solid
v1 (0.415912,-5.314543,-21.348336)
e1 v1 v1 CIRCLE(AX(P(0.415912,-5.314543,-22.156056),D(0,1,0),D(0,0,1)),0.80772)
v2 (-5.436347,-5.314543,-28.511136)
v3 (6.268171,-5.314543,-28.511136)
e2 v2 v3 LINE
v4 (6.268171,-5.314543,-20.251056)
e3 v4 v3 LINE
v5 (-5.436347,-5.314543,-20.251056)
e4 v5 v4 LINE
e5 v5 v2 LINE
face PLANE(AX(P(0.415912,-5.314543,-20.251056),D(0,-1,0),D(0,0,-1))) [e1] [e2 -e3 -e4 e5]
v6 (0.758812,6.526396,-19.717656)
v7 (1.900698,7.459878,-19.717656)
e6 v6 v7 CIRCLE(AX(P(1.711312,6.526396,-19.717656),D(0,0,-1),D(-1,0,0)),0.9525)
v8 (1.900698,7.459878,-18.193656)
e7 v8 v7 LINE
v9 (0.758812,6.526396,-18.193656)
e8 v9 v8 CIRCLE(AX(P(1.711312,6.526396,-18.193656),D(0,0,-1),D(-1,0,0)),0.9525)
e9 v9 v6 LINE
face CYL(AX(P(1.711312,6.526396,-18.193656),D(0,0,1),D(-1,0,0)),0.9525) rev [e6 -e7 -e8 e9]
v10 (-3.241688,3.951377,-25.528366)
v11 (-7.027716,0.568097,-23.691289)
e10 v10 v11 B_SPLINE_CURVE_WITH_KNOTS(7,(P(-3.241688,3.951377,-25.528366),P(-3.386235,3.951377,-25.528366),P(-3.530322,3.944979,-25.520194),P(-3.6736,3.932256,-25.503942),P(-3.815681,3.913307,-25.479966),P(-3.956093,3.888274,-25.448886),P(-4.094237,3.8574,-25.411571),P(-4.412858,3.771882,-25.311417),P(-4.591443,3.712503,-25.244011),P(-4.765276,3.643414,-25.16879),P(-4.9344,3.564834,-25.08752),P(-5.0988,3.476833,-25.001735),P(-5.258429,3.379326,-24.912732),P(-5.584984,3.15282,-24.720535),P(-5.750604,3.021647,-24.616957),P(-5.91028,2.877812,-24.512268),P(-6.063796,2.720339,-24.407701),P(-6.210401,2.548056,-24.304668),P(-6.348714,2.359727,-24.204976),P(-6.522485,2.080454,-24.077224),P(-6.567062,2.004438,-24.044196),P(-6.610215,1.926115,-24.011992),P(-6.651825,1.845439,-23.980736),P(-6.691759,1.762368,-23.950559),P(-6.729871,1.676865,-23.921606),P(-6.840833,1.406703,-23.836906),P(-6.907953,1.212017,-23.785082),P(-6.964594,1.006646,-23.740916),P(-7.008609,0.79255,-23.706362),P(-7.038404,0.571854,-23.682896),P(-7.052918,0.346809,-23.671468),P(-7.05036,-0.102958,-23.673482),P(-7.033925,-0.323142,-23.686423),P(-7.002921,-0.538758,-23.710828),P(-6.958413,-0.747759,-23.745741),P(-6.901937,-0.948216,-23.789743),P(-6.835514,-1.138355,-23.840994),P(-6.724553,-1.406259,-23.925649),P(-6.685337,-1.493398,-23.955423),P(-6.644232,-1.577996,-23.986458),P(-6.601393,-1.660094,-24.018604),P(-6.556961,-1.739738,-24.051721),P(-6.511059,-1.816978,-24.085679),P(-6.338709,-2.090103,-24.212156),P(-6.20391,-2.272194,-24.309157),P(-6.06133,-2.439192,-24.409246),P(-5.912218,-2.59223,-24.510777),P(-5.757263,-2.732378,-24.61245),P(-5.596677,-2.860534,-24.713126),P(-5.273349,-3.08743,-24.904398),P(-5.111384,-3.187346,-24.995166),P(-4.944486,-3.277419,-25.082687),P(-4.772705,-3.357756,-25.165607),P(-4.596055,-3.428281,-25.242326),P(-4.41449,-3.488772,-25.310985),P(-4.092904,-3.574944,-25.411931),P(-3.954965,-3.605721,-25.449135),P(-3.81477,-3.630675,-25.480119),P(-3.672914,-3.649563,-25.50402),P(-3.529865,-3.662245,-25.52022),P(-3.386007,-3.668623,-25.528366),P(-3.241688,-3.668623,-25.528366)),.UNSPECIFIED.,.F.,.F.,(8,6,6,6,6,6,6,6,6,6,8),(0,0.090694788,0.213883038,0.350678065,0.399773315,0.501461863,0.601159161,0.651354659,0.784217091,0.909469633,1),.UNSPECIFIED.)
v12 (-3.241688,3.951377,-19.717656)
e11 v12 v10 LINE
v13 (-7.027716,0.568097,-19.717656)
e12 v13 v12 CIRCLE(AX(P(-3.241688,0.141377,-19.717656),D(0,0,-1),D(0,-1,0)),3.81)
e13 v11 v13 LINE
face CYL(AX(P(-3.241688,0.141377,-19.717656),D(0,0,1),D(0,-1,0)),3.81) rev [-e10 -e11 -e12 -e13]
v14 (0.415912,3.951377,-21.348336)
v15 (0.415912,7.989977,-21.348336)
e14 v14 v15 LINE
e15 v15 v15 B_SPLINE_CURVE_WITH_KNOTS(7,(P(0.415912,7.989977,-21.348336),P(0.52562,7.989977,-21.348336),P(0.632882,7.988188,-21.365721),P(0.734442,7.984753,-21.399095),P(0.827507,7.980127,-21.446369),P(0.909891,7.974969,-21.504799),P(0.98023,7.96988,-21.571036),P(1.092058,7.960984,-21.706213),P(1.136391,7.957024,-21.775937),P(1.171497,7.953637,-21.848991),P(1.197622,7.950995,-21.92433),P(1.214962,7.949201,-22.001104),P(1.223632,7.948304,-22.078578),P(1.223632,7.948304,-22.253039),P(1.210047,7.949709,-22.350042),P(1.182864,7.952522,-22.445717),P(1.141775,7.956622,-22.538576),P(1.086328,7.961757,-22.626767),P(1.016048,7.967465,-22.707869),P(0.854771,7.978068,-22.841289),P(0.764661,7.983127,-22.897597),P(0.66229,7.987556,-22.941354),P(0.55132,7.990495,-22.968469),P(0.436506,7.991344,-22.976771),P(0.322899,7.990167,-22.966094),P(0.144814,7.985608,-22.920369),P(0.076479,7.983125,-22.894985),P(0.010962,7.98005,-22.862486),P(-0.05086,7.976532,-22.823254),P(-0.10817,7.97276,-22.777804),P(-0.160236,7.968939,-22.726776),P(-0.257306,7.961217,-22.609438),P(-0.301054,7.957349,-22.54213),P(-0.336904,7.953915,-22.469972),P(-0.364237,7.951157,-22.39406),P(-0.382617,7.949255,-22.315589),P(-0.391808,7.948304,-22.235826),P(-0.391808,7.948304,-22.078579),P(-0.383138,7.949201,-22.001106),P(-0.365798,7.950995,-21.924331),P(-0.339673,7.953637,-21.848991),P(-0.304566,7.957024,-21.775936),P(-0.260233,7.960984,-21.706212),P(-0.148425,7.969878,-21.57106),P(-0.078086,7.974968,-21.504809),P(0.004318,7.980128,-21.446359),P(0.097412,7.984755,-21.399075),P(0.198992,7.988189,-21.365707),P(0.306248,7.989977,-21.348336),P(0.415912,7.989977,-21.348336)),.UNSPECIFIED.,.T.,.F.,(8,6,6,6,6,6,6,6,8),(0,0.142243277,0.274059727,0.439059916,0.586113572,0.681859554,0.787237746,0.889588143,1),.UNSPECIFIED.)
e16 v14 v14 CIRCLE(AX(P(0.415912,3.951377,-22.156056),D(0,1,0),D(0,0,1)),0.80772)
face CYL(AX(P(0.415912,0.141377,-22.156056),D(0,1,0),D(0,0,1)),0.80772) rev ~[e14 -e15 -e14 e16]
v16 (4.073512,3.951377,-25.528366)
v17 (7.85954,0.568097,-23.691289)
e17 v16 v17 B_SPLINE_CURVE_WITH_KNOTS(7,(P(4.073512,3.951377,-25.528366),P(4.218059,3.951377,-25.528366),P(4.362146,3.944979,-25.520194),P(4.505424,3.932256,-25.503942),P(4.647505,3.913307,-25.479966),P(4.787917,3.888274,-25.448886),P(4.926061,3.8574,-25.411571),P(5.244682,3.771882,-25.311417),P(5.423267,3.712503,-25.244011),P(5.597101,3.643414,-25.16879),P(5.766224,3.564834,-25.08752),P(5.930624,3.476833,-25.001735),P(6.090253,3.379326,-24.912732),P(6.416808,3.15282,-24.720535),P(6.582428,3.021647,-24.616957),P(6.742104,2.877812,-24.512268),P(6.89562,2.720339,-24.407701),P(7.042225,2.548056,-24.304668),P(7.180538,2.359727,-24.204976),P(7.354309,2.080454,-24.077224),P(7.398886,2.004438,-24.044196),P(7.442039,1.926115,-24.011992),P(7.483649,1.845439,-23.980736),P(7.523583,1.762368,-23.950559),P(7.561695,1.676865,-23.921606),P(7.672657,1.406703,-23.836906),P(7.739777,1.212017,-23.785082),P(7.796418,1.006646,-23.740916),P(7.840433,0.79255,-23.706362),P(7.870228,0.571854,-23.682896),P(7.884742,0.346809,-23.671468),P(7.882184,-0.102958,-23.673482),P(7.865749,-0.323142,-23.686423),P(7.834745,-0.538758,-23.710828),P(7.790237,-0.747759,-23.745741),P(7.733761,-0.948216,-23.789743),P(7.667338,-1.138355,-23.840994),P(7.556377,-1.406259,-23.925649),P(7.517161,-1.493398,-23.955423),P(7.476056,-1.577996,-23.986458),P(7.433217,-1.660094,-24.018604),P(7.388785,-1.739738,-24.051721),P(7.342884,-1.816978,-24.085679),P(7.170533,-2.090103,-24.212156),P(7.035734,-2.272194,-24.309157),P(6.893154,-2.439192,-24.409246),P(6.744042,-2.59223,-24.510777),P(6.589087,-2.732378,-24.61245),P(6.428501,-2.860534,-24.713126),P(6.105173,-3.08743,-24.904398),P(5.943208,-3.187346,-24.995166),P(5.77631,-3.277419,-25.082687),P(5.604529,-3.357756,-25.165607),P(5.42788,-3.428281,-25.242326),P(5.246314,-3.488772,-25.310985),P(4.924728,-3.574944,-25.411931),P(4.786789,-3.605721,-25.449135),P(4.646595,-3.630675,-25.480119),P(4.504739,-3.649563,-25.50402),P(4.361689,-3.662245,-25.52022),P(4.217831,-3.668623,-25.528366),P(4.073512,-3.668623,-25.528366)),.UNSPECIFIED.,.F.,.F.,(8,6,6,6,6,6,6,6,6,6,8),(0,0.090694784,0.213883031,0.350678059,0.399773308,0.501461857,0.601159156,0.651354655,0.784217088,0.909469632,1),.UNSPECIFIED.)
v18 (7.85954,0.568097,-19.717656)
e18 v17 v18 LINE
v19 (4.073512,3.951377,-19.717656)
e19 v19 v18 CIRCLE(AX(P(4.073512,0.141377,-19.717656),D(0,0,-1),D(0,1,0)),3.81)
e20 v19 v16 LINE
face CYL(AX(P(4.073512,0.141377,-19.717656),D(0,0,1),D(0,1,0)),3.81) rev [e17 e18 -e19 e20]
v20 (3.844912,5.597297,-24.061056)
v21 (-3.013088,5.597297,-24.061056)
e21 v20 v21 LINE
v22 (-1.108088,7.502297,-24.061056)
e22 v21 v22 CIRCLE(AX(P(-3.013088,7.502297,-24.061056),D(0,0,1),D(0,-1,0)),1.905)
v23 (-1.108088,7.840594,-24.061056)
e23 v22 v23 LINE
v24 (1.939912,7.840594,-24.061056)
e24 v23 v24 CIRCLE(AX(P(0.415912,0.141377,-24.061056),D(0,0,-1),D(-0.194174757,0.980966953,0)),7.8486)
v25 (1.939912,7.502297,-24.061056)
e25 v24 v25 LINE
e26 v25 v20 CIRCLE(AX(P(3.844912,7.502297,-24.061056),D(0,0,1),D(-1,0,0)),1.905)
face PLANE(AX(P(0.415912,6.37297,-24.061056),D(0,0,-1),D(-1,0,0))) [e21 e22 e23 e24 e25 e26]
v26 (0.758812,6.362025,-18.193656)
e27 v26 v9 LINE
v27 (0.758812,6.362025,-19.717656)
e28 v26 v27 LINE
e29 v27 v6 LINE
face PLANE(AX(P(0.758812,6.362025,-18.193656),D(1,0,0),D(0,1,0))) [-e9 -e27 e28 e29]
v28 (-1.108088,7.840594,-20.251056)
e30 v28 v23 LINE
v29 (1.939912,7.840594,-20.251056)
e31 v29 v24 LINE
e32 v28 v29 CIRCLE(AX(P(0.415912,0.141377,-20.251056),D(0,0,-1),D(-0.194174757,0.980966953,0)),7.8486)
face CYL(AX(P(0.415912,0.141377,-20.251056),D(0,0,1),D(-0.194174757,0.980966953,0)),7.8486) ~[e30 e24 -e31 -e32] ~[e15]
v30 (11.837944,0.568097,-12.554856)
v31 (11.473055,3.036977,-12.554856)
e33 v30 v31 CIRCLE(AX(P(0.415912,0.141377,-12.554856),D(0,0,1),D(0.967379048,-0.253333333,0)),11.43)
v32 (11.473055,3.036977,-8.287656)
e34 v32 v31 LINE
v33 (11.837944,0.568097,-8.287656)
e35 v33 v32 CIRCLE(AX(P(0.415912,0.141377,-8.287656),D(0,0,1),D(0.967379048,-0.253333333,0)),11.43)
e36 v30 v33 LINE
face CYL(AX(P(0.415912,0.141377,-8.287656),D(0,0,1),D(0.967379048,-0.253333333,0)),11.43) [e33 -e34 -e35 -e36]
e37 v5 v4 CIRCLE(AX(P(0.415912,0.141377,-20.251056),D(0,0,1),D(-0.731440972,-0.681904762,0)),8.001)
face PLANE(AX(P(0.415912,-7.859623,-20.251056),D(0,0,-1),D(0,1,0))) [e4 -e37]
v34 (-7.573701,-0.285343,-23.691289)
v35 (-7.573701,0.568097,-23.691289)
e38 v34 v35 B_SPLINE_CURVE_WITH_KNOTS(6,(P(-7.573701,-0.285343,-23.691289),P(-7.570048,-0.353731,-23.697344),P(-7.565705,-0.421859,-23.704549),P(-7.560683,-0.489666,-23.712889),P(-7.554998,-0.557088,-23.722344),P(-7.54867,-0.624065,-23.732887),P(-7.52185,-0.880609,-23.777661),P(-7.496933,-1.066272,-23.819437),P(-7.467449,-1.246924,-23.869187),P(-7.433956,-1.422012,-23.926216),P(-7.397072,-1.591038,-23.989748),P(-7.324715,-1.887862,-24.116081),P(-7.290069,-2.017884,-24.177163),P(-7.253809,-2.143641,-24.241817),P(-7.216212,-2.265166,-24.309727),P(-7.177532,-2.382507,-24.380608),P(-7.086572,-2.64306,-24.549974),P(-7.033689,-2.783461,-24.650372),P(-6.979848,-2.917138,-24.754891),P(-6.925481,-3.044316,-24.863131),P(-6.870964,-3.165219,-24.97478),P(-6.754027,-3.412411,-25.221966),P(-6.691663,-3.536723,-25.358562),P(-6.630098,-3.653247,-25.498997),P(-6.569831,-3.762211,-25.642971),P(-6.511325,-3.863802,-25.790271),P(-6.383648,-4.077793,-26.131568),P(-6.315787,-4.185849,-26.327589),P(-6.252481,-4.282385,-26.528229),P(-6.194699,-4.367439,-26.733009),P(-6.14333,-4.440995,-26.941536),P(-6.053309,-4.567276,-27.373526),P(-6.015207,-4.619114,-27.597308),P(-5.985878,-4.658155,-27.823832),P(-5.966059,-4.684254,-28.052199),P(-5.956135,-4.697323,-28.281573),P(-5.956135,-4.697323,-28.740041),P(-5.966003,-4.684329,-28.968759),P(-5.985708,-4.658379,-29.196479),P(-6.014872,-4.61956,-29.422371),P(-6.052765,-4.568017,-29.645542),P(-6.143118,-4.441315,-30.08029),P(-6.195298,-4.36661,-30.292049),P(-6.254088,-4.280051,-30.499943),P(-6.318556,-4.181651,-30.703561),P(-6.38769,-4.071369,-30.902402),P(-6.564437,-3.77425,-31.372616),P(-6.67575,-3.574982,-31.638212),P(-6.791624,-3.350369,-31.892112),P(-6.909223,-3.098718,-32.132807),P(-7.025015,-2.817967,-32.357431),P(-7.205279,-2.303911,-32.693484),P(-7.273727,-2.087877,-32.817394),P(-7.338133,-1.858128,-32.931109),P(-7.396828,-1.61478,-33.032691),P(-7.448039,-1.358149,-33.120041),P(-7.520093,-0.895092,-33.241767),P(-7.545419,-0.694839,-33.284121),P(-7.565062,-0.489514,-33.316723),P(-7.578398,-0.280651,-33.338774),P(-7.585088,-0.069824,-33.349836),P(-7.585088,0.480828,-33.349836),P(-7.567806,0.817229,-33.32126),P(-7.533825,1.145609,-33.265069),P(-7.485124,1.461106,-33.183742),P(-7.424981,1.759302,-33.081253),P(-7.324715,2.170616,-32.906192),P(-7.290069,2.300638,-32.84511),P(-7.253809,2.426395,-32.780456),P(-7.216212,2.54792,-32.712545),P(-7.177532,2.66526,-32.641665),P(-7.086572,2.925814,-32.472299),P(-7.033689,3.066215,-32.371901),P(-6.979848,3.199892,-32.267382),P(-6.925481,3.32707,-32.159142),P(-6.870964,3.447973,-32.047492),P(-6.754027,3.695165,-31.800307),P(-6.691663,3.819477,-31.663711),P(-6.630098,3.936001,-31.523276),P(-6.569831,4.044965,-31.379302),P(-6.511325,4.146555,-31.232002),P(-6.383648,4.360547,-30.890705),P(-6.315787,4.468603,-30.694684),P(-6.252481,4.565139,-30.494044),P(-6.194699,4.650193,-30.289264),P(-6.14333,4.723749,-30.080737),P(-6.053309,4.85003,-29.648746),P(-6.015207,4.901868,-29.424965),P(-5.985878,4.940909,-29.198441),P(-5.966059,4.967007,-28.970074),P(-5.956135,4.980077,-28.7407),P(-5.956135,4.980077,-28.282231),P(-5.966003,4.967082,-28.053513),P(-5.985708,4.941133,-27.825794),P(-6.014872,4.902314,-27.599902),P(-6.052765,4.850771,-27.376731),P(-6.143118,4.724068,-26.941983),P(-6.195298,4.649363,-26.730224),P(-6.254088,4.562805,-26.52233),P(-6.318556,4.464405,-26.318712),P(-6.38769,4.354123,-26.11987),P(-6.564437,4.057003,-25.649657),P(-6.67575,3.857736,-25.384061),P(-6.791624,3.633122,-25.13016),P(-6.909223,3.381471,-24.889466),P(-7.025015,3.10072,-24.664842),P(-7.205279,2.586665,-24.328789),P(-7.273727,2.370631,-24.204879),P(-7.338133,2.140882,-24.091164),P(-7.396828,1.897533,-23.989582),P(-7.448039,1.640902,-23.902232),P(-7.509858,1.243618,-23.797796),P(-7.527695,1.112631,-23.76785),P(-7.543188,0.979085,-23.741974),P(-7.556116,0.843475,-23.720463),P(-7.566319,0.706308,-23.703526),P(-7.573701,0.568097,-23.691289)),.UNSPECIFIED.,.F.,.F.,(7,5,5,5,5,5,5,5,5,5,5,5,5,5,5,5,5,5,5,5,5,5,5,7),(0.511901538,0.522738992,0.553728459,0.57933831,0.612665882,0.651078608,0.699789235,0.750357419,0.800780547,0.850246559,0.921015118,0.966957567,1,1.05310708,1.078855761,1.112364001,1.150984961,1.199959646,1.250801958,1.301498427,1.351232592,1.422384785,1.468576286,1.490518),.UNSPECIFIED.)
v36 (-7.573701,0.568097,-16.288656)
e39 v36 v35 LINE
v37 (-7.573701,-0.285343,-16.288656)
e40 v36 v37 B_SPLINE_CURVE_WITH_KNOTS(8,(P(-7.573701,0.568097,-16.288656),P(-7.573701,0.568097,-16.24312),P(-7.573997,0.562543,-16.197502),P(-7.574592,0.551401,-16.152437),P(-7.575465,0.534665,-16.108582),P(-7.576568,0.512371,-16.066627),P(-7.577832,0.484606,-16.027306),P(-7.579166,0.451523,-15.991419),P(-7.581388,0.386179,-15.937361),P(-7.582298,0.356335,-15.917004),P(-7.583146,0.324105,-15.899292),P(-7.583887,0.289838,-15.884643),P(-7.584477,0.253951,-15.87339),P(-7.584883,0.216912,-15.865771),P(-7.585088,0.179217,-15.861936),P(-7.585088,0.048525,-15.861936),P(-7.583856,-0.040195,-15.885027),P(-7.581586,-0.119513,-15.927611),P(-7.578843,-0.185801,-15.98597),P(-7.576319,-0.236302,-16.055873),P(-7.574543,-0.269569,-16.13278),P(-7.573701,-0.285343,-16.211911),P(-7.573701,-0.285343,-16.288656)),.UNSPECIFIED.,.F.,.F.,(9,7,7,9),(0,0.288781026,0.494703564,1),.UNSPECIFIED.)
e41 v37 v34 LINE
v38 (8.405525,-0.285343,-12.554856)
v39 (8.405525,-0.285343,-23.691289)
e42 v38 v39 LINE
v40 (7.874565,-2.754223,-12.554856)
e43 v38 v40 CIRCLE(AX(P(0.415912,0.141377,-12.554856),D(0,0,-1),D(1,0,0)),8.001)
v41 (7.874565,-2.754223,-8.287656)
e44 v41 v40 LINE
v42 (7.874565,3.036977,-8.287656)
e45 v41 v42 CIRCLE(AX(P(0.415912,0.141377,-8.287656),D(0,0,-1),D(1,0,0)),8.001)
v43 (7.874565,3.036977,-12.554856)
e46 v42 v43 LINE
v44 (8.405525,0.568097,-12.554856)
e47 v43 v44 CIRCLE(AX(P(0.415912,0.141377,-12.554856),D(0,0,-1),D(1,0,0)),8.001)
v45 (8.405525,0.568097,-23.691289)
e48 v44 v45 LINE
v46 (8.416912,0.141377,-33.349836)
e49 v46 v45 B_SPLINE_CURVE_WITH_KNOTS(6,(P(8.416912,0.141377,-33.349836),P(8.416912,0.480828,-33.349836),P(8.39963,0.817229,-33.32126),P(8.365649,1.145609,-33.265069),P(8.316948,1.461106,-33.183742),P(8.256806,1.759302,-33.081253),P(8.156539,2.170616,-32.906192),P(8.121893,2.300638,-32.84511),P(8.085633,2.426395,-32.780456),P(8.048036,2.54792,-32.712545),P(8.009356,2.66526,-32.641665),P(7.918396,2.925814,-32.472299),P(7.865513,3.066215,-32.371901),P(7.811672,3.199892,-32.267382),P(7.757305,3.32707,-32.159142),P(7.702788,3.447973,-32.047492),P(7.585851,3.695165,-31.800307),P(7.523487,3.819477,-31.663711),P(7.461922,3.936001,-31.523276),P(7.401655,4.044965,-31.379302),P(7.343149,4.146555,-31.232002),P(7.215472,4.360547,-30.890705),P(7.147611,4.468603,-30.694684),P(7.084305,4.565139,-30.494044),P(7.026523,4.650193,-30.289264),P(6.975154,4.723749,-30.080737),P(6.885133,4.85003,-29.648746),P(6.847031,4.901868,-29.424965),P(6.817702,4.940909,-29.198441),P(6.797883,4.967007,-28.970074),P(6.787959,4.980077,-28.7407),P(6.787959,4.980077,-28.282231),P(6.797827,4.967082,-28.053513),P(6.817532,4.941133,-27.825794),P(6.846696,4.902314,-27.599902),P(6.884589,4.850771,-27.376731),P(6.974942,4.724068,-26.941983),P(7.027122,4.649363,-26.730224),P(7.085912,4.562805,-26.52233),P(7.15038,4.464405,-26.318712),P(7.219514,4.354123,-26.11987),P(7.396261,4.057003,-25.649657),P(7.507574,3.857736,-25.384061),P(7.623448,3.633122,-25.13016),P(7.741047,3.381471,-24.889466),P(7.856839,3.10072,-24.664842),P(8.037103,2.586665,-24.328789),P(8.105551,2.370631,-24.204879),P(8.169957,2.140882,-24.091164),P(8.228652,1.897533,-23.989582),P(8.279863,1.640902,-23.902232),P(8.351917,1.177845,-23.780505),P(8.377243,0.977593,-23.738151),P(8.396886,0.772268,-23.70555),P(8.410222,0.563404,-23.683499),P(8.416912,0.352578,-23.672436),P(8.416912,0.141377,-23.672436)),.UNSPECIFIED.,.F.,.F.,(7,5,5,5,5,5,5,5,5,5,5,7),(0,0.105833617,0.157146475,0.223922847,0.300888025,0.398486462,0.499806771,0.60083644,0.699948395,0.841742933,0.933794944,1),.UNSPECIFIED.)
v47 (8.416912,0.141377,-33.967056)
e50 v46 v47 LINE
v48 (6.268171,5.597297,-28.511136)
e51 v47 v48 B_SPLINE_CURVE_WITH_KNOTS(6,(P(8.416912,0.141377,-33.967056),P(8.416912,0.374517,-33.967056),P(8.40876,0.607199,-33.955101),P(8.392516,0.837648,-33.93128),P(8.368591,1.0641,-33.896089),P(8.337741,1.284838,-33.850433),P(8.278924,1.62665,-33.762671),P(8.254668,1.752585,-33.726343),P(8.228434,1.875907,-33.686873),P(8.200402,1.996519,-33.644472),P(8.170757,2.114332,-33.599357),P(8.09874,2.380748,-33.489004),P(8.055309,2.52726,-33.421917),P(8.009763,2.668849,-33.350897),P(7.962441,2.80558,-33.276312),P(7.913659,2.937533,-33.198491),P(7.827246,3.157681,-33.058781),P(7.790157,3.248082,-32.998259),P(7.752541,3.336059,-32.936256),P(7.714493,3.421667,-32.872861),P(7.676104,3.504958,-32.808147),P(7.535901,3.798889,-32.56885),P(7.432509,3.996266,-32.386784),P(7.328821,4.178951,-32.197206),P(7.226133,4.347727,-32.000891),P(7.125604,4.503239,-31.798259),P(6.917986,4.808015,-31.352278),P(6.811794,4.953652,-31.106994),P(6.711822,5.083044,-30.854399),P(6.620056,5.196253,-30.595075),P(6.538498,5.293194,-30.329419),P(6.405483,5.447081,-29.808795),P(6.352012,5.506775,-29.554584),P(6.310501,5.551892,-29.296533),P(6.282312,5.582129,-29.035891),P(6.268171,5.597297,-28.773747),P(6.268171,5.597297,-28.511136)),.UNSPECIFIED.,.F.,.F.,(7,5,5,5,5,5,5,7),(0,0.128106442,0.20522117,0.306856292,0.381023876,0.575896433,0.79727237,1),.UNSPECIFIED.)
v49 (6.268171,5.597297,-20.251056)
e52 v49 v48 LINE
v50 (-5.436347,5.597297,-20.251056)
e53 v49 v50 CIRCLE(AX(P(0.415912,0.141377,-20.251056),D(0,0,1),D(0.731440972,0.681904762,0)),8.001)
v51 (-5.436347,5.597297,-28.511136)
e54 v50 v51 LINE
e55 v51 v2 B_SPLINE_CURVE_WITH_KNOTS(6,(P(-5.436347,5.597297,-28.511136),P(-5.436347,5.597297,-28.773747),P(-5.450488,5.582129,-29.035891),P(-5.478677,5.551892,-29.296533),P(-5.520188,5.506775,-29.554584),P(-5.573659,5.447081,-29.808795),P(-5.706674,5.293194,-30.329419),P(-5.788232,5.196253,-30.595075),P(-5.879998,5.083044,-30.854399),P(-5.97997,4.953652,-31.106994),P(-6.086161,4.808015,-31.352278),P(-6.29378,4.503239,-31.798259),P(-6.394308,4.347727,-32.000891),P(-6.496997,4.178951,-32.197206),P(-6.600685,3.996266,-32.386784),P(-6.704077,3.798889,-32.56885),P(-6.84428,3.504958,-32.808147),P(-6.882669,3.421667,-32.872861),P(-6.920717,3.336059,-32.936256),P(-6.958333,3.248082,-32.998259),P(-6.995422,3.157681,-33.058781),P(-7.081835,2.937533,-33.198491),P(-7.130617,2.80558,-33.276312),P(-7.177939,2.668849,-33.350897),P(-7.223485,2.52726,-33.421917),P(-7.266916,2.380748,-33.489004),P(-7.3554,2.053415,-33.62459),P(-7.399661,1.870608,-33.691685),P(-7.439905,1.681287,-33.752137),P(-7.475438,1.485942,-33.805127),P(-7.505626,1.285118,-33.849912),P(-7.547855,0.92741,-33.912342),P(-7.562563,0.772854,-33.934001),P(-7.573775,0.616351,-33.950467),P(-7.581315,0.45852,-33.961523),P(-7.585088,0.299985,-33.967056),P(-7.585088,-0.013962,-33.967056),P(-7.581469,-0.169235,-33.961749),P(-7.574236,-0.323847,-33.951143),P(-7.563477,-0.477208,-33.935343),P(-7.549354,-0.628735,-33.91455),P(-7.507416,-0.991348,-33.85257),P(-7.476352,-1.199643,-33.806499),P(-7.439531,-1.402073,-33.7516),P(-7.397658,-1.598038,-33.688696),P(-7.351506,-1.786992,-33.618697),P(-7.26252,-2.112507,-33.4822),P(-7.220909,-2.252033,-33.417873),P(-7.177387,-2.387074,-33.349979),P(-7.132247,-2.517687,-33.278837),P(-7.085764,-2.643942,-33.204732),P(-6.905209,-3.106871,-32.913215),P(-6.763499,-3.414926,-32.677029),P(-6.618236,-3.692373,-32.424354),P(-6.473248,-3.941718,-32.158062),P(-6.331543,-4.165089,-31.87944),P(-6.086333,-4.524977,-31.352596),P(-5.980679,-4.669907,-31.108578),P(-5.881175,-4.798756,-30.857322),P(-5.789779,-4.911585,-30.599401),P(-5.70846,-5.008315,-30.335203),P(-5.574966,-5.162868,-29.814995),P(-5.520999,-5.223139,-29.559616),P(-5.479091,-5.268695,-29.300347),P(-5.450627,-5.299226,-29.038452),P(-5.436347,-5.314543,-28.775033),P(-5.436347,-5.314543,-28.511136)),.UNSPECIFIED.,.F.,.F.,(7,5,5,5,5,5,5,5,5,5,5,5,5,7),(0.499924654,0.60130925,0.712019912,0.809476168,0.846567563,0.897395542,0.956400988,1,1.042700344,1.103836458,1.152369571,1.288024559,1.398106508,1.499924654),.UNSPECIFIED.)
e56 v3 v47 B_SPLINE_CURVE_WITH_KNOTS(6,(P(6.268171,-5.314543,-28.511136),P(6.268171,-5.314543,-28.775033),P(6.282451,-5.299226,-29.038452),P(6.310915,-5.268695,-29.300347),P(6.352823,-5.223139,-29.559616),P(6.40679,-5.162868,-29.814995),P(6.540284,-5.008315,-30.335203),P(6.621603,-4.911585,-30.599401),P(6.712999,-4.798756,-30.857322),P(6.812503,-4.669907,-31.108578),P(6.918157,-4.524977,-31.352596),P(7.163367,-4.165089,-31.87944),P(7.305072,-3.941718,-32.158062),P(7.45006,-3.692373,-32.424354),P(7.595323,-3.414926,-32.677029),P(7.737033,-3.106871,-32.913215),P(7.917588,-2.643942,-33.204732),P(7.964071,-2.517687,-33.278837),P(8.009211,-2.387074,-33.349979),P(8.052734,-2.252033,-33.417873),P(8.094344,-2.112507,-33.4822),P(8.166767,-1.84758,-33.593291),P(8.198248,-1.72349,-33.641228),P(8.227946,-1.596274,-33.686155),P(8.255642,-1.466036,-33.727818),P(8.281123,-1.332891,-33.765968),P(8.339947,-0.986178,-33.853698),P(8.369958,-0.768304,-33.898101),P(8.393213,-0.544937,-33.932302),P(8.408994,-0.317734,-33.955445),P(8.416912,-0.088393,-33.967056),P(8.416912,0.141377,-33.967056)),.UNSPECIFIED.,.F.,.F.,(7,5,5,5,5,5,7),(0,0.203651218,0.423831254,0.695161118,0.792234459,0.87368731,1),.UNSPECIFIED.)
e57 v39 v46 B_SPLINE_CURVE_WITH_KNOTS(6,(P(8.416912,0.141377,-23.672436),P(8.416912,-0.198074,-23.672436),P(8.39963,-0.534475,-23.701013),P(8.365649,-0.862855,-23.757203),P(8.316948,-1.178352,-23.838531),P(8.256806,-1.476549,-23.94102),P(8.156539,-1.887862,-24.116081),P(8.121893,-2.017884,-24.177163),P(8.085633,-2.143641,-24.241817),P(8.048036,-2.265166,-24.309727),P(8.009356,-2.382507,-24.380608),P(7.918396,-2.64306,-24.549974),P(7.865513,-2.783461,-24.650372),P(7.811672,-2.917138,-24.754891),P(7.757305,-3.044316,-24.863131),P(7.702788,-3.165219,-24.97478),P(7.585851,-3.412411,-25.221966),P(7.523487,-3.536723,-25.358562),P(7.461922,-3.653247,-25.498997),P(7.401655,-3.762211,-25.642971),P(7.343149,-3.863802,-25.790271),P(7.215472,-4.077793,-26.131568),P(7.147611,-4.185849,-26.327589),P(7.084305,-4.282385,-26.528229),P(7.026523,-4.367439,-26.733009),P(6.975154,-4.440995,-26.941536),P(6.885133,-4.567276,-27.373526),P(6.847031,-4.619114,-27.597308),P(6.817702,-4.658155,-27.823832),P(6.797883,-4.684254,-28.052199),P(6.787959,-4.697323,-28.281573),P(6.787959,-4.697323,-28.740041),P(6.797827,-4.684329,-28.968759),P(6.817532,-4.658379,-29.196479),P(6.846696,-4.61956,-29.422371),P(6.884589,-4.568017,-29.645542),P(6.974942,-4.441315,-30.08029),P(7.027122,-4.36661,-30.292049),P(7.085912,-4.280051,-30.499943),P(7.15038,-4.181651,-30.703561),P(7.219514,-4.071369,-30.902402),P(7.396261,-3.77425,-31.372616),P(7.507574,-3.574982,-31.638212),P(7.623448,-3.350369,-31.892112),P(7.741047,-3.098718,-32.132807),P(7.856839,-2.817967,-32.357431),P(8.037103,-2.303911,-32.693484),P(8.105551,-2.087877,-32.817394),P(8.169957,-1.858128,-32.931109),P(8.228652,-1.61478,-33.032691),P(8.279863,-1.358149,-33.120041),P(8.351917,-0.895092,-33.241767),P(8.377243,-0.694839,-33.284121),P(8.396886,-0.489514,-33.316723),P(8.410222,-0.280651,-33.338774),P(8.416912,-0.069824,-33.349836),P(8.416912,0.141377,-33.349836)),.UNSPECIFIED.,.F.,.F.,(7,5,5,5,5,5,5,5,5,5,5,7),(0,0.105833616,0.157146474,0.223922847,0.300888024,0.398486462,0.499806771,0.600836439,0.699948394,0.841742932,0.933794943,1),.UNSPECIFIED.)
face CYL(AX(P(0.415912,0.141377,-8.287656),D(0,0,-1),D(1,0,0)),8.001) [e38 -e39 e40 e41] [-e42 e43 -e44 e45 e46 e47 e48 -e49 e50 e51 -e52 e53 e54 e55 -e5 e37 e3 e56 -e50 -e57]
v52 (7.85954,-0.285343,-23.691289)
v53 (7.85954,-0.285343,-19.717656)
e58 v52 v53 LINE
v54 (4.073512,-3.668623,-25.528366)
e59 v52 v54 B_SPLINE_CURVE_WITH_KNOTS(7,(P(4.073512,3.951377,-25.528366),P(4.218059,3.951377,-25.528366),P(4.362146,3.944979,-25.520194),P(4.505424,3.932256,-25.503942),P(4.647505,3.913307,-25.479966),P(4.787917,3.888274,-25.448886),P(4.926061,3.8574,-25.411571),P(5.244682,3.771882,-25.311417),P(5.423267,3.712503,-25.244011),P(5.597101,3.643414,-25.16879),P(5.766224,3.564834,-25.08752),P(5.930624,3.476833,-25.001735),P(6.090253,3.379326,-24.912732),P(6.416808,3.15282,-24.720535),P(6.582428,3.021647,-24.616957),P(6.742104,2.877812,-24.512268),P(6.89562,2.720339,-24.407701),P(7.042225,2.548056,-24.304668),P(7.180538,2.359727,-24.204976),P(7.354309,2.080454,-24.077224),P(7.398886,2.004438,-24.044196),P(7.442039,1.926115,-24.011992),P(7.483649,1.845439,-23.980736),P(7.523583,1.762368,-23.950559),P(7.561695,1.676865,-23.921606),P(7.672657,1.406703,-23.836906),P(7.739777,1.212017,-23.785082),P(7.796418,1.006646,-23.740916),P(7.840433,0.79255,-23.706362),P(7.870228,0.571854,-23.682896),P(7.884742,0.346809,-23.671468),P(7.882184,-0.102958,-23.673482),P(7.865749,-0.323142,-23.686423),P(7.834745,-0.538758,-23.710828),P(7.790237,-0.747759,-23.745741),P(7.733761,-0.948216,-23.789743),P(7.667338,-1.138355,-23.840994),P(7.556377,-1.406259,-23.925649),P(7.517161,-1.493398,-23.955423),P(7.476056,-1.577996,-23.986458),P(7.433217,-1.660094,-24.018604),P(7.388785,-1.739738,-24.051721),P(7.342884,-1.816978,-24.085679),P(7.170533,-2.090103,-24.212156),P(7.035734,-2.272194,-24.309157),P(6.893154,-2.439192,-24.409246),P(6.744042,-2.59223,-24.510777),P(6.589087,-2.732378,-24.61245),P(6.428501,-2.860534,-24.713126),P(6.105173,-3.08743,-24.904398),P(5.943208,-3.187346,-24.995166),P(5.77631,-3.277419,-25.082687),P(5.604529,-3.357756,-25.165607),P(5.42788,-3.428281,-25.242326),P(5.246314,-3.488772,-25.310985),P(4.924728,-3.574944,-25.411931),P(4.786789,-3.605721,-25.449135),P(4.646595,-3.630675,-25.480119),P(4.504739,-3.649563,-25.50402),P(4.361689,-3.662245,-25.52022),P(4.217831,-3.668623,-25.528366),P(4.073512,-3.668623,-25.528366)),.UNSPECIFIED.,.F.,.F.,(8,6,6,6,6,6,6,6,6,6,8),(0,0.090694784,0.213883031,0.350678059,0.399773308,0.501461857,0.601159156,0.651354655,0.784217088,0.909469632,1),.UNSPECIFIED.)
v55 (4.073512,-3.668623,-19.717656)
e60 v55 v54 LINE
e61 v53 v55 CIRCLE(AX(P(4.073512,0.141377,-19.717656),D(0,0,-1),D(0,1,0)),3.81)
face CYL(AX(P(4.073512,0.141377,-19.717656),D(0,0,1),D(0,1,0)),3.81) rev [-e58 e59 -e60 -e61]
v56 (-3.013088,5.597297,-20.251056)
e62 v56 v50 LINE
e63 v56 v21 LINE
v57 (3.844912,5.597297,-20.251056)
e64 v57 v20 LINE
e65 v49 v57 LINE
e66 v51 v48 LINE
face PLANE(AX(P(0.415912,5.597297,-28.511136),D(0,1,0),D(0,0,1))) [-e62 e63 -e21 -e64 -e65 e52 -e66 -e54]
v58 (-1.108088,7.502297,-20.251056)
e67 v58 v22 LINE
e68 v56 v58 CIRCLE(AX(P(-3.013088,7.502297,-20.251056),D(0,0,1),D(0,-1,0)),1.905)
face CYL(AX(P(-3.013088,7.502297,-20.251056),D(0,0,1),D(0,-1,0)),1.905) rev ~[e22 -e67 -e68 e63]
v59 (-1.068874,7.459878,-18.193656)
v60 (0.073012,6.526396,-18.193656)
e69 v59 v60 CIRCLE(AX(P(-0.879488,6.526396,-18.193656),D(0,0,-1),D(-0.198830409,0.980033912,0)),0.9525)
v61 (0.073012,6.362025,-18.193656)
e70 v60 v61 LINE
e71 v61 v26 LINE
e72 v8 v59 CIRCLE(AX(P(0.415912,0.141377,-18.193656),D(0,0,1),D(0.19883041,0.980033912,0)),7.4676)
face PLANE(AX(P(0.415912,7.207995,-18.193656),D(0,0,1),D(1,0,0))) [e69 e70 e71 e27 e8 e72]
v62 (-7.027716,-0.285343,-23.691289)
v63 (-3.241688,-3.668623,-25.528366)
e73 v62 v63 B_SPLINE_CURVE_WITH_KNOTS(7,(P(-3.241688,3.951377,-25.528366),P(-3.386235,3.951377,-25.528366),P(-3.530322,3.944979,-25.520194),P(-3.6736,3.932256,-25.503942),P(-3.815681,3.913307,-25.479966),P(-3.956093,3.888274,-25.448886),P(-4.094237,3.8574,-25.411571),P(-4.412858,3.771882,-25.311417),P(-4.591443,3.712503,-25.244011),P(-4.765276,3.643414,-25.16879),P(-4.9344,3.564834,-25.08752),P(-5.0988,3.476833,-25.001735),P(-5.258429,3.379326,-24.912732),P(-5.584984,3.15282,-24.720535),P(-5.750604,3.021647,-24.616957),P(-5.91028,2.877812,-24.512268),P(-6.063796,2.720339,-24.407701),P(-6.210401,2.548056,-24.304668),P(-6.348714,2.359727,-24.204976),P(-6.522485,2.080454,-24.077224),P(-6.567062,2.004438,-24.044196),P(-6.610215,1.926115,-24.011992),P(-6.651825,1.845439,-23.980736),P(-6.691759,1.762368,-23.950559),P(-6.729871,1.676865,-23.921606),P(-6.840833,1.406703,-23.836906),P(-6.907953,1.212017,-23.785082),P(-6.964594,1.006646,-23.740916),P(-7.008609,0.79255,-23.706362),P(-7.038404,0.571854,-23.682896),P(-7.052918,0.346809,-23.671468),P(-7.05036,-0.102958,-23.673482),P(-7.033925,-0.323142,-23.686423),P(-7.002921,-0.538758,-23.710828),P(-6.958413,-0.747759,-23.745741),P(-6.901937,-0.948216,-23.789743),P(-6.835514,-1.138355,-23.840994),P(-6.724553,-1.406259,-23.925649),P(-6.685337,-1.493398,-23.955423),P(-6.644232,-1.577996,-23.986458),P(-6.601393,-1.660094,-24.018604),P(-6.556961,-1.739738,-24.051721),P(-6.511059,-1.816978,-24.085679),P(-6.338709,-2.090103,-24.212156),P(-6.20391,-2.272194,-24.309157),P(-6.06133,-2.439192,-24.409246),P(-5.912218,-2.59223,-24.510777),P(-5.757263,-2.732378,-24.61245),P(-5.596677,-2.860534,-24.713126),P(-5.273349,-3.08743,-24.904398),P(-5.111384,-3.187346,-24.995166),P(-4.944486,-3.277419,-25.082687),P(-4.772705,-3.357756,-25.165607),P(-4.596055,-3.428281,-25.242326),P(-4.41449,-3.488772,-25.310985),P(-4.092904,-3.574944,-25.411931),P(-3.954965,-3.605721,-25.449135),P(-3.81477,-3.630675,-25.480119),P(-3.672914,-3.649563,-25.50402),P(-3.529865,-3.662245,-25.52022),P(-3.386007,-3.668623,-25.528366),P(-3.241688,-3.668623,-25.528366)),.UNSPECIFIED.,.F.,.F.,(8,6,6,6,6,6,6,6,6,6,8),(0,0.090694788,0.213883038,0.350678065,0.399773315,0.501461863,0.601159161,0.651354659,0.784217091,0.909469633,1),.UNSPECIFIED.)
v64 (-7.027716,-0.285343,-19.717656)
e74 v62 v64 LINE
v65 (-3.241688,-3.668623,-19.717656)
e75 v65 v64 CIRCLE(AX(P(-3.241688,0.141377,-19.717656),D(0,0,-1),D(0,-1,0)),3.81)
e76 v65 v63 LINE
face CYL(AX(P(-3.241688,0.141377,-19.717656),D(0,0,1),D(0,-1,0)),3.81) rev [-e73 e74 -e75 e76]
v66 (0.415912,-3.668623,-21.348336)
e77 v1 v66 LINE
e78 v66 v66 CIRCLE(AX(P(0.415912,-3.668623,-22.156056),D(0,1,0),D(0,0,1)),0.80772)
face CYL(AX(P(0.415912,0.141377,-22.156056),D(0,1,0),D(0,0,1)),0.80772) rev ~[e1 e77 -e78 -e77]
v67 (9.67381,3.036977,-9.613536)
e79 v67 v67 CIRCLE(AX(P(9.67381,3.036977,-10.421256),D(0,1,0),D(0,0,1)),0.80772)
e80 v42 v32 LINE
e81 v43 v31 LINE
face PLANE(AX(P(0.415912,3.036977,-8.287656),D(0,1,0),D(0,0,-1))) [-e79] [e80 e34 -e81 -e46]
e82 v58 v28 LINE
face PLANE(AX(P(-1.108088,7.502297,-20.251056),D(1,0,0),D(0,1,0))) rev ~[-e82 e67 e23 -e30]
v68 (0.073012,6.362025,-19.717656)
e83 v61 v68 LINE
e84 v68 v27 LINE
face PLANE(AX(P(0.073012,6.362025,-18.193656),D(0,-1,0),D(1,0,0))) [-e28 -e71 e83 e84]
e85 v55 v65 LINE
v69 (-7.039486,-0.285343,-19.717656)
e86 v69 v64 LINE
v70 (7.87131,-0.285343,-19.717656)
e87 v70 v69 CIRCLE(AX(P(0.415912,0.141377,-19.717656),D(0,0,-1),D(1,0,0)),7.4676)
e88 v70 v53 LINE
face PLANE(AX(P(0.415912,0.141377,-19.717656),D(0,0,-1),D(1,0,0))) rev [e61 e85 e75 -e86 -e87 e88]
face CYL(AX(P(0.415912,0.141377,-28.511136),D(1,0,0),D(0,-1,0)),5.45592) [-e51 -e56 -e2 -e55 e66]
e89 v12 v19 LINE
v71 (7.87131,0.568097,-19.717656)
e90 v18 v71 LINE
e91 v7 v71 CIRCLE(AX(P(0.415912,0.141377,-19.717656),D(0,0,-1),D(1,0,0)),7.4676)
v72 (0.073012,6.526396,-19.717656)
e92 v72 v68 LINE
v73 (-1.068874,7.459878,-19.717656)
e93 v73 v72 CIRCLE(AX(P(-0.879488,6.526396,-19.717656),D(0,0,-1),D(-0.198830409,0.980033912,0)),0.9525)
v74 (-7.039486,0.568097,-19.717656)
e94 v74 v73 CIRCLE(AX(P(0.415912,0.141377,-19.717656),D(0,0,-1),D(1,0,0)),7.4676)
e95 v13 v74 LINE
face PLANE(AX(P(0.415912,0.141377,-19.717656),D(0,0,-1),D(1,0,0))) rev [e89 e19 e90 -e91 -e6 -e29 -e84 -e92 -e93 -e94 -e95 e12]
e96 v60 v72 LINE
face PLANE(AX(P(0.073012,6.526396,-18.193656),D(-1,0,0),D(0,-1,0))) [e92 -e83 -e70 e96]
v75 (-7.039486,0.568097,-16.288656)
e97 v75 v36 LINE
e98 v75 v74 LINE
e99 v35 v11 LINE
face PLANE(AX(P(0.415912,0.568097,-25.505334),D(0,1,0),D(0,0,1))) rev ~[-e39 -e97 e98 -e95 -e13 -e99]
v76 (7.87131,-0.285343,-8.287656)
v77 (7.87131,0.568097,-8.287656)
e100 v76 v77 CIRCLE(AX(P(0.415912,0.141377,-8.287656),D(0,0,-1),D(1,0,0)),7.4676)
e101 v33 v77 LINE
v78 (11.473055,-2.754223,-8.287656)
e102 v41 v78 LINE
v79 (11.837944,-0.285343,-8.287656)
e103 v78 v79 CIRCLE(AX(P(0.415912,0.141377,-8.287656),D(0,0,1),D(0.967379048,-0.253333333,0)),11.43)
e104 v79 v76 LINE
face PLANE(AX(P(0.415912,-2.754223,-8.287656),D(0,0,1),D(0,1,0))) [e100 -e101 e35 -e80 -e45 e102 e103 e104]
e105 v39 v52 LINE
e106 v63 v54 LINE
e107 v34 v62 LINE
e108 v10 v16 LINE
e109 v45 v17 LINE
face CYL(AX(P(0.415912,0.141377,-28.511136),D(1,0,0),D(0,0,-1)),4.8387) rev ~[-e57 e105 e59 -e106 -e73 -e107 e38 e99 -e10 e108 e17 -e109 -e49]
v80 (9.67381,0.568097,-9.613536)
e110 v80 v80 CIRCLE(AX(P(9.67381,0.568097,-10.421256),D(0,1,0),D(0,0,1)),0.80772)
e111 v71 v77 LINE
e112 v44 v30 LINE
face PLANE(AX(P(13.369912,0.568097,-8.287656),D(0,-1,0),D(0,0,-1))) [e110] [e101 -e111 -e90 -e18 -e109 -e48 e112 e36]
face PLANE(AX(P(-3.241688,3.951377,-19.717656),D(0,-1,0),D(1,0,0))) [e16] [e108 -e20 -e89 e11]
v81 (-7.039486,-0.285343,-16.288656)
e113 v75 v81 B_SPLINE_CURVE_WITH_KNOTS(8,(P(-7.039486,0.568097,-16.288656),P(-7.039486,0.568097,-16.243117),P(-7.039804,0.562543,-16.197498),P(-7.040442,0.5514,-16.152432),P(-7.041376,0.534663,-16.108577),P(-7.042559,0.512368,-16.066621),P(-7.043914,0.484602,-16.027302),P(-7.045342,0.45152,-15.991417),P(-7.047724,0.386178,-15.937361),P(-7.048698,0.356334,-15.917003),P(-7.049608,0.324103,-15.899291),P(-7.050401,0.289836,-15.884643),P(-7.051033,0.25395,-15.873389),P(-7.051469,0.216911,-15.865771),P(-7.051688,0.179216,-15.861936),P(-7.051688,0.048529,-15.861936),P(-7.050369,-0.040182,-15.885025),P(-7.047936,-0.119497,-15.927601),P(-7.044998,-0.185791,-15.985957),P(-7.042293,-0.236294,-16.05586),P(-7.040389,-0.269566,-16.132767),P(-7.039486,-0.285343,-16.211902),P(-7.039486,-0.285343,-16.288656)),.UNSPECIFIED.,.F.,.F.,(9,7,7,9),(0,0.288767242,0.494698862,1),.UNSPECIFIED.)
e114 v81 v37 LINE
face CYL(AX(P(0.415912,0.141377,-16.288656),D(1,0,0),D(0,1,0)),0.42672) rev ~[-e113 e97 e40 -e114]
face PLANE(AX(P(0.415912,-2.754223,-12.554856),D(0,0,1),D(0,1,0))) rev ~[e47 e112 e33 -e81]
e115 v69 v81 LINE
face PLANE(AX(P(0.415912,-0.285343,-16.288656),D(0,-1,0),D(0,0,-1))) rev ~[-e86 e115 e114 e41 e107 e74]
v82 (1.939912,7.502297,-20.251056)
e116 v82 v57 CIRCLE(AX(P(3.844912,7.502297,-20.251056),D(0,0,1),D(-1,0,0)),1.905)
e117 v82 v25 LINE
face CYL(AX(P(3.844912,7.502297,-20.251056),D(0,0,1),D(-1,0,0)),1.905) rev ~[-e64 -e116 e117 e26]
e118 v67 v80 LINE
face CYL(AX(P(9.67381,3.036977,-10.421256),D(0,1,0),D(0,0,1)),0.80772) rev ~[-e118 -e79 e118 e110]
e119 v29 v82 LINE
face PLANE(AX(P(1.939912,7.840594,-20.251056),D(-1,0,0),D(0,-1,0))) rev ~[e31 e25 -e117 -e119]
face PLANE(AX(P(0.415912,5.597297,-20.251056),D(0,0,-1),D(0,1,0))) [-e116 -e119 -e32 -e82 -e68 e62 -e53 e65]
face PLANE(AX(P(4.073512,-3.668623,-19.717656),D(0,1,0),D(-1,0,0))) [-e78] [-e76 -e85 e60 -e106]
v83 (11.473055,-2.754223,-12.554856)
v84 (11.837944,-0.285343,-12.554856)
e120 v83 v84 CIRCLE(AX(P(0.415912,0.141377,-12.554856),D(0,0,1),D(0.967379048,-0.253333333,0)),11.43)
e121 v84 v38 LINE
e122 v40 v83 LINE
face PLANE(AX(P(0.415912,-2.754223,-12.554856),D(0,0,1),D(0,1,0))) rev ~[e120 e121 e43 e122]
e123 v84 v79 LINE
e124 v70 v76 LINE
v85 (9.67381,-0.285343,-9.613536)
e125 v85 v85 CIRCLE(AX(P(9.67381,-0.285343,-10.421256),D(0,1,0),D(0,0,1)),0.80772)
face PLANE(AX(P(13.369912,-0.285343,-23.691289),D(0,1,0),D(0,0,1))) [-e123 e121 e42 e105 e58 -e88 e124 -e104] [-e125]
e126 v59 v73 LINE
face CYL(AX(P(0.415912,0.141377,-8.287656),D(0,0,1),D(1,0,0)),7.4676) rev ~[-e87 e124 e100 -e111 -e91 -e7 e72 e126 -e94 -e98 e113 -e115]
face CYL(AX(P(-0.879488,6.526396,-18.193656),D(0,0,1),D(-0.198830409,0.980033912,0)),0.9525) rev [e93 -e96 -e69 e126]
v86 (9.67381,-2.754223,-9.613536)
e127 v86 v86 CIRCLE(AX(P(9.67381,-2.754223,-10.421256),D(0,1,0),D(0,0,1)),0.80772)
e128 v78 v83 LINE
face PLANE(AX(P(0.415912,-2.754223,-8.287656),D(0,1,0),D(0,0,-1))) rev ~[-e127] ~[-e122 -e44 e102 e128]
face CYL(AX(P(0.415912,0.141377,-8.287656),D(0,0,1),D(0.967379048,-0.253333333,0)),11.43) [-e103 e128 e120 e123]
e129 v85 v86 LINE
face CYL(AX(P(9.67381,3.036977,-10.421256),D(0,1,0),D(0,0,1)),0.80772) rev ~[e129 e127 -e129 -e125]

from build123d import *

# Parameters (mm, degrees)
SKETCH3_R           = 8.0645
CUT_EXTRUDE1_DEPTH  = 15.24
CUT_EXTRUDE2_DEPTH  = 15.24
CUT_EXTRUDE3_DEPTH  = 12.7
BOSS_EXTRUDE1_DEPTH = 6.35
SKETCH8_R           = 1.3462
CUT_EXTRUDE4_DEPTH  = 14.605
CUT_EXTRUDE5_DEPTH  = 29.21
SKETCH10_W          = 7.112
SKETCH10_H          = 9.652
BOSS_EXTRUDE2_DEPTH = 19.05
SKETCH11_R          = 12.446
CUT_EXTRUDE6_DEPTH  = 13.97
CUT_EXTRUDE8_DEPTH  = 13.97
SKETCH14_R          = 1.3462
CUT_EXTRUDE9_DEPTH  = 13.97
CUT_EXTRUDE10_START = 21.59
CUT_EXTRUDE10_DEPTH = 21.59
BOSS_EXTRUDE3_START = 2.54
BOSS_EXTRUDE3_DEPTH = 2.54
SCALE1_SCALE        = 0.6


with BuildPart() as part:
    # Sketch1 → Revolve1 (revolve)
    with BuildSketch(Plane(origin=(0, 0, 0), x_dir=(0, 0, -1), z_dir=(1, 0, 0)), mode=Mode.PRIVATE) as revolve1_sk:
        Polygon((0, 12.446), (0, 13.335), (42.799, 13.335), (42.799, 0), (19.05, 0), (19.05, 12.446), align=None)
    revolve(revolve1_sk.sketch.rotate(Axis((0, 0, 0), (0, 0, -1)), 90), axis=Axis((0, 0, 0), (0, 0, -1)))

    # Sketch3 → Cut-Extrude1 (cut, symmetric)
    with BuildSketch(Plane(origin=(0, 0, 0), x_dir=(0, 0, -1), z_dir=(1, 0, 0))):
        with Locations((33.7058, 0)):
            Circle(SKETCH3_R)
    extrude(amount=CUT_EXTRUDE1_DEPTH, both=True, mode=Mode.SUBTRACT)

    # Sketch5 → Cut-Extrude2 (cut, symmetric)
    with BuildSketch(Plane(origin=(0, 0, 0), x_dir=(0, 0, -1), z_dir=(1, 0, 0))):
        with BuildLine():
            Line((33.7058, 9.0932), (19.939, 9.0932))
            Line((19.939, 9.0932), (19.939, 13.335))
            Line((19.939, 13.335), (43.742849638, 13.335))
            Line((43.742849638, 13.335), (43.742849638, -13.335))
            Line((43.742849638, -13.335), (19.939, -13.335))
            Line((19.939, -13.335), (19.939, -9.0932))
            Line((19.939, -9.0932), (33.7058, -9.0932))
            ThreePointArc((33.7058, -9.0932), (42.799, 0), (33.7058, 9.0932))
        make_face()
    extrude(amount=CUT_EXTRUDE2_DEPTH, both=True, mode=Mode.SUBTRACT)

    # Sketch6 → Cut-Extrude3 (cut)
    with BuildSketch(Plane.XY.offset(-19.05)):
        with BuildLine():
            Line((-6.096, 6.35), (6.096, 6.35))
            ThreePointArc((6.096, 6.35), (12.446, 0), (6.096, -6.35))
            Line((6.096, -6.35), (-6.096, -6.35))
            ThreePointArc((-6.096, -6.35), (-12.446, 0), (-6.096, 6.35))
        make_face()
    extrude(amount=-CUT_EXTRUDE3_DEPTH, mode=Mode.SUBTRACT)

    # Sketch7 → Boss-Extrude1 (add)
    with BuildSketch(Plane(origin=(0, 0, -19.939), x_dir=(-1, 0, 0), z_dir=(0, 0, -1))):
        with BuildLine():
            Line((-5.715, 9.0932), (5.715, 9.0932))
            ThreePointArc((5.715, 9.0932), (3.46993597, 10.02313597), (2.54, 12.2682))
            Line((2.54, 12.2682), (2.54, 12.832028717))
            ThreePointArc((2.54, 12.832028717), (0, 13.081), (-2.54, 12.832028717))
            Line((-2.54, 12.832028717), (-2.54, 12.2682))
            ThreePointArc((-2.54, 12.2682), (-3.46993597, 10.02313597), (-5.715, 9.0932))
        make_face()
    extrude(amount=BOSS_EXTRUDE1_DEPTH)

    # Sketch8 → Cut-Extrude4 (cut, symmetric)
    with BuildSketch(Plane(origin=(0, 0, 0), x_dir=(1, 0, 0), z_dir=(0, 1, 0))):
        with Locations(Location((0, 23.114, 0), (0, 0, 270))):
            Circle(SKETCH8_R)
    extrude(amount=CUT_EXTRUDE4_DEPTH, both=True, mode=Mode.SUBTRACT)

    # Sketch9 → Cut-Extrude5 (cut)
    with BuildSketch(Plane(origin=(0, 0, 0), x_dir=(0, 0, -1), z_dir=(1, 0, 0))):
        with BuildLine():
            Line((28.696128941, 0.7112), (13.335, 0.7112))
            ThreePointArc((13.335, 0.7112), (12.6238, 0), (13.335, -0.7112))
            Line((13.335, -0.7112), (28.696128941, -0.7112))
            Line((28.696128941, -0.7112), (28.696128941, 0.7112))
        make_face()
    extrude(amount=-CUT_EXTRUDE5_DEPTH, mode=Mode.SUBTRACT)

    # Sketch10 → Boss-Extrude2 (add)
    with BuildSketch(Plane(origin=(0, 0, 0), x_dir=(0, 0, -1), z_dir=(1, 0, 0))):
        with Locations((3.556, 0)):
            Rectangle(SKETCH10_W, SKETCH10_H)
    extrude(amount=BOSS_EXTRUDE2_DEPTH)

    # Sketch11 → Cut-Extrude6 (cut)
    with BuildSketch(Plane.XY):
        Circle(SKETCH11_R)
    extrude(amount=-CUT_EXTRUDE6_DEPTH, mode=Mode.SUBTRACT)

    # Sketch13 → Cut-Extrude8 (cut)
    with BuildSketch(Plane.XY):
        with BuildLine():
            Line((19.689857662, 4.826), (19.689857662, -4.826))
            Line((19.689857662, -4.826), (18.428570862, -4.826))
            ThreePointArc((18.428570862, -4.826), (19.05, 0), (18.428570862, 4.826))
            Line((18.428570862, 4.826), (19.689857662, 4.826))
        make_face()
    extrude(amount=-CUT_EXTRUDE8_DEPTH, mode=Mode.SUBTRACT)

    # Sketch14 → Cut-Extrude9 (cut)
    with BuildSketch(Plane(origin=(0, 4.826, 0), x_dir=(1, 0, 0), z_dir=(0, 1, 0))):
        with Locations(Location((15.429829434, 3.556, 0), (0, 0, 270))):
            Circle(SKETCH14_R)
    extrude(amount=-CUT_EXTRUDE9_DEPTH, mode=Mode.SUBTRACT)

    # Sketch15 → Cut-Extrude10 (cut)
    with BuildSketch(Plane(origin=(0, 0, 0), x_dir=(0, 0, -1), z_dir=(1, 0, 0)).offset(CUT_EXTRUDE10_START)):
        with BuildLine():
            Line((0, 0.7112), (25.672721212, 0.7112))
            ThreePointArc((25.672721212, 0.7112), (25.6413, 0), (25.672721212, -0.7112))
            Line((25.672721212, -0.7112), (0, -0.7112))
            Line((0, -0.7112), (0, 0.7112))
        make_face()
    extrude(amount=-CUT_EXTRUDE10_DEPTH, mode=Mode.SUBTRACT)

    # Sketch16 → Boss-Extrude3 (add)
    with BuildSketch(Plane.XY.offset(-19.05).offset(BOSS_EXTRUDE3_START)):
        with BuildLine():
            Line((-0.5715, 10.641698231), (-0.5715, 10.367746169))
            Line((-0.5715, 10.367746169), (0.5715, 10.367746169))
            Line((0.5715, 10.367746169), (0.5715, 10.641698231))
            ThreePointArc((0.5715, 10.641698231), (1.154243176, 11.870771042), (2.474643275, 12.197502066))
            ThreePointArc((2.474643275, 12.197502066), (0, 12.446), (-2.474643275, 12.197502066))
            ThreePointArc((-2.474643275, 12.197502066), (-1.154243176, 11.870771042), (-0.5715, 10.641698231))
        make_face()
    extrude(amount=-BOSS_EXTRUDE3_DEPTH)


with BuildPart() as part_1:
    # Scale1: scaled about (1.039780089, 0.353442255, -20.719141089)
    add(part.part.scale(SCALE1_SCALE).moved(Location((0.415912036, 0.141376902, -8.287656436))))


solid = part_1.part
